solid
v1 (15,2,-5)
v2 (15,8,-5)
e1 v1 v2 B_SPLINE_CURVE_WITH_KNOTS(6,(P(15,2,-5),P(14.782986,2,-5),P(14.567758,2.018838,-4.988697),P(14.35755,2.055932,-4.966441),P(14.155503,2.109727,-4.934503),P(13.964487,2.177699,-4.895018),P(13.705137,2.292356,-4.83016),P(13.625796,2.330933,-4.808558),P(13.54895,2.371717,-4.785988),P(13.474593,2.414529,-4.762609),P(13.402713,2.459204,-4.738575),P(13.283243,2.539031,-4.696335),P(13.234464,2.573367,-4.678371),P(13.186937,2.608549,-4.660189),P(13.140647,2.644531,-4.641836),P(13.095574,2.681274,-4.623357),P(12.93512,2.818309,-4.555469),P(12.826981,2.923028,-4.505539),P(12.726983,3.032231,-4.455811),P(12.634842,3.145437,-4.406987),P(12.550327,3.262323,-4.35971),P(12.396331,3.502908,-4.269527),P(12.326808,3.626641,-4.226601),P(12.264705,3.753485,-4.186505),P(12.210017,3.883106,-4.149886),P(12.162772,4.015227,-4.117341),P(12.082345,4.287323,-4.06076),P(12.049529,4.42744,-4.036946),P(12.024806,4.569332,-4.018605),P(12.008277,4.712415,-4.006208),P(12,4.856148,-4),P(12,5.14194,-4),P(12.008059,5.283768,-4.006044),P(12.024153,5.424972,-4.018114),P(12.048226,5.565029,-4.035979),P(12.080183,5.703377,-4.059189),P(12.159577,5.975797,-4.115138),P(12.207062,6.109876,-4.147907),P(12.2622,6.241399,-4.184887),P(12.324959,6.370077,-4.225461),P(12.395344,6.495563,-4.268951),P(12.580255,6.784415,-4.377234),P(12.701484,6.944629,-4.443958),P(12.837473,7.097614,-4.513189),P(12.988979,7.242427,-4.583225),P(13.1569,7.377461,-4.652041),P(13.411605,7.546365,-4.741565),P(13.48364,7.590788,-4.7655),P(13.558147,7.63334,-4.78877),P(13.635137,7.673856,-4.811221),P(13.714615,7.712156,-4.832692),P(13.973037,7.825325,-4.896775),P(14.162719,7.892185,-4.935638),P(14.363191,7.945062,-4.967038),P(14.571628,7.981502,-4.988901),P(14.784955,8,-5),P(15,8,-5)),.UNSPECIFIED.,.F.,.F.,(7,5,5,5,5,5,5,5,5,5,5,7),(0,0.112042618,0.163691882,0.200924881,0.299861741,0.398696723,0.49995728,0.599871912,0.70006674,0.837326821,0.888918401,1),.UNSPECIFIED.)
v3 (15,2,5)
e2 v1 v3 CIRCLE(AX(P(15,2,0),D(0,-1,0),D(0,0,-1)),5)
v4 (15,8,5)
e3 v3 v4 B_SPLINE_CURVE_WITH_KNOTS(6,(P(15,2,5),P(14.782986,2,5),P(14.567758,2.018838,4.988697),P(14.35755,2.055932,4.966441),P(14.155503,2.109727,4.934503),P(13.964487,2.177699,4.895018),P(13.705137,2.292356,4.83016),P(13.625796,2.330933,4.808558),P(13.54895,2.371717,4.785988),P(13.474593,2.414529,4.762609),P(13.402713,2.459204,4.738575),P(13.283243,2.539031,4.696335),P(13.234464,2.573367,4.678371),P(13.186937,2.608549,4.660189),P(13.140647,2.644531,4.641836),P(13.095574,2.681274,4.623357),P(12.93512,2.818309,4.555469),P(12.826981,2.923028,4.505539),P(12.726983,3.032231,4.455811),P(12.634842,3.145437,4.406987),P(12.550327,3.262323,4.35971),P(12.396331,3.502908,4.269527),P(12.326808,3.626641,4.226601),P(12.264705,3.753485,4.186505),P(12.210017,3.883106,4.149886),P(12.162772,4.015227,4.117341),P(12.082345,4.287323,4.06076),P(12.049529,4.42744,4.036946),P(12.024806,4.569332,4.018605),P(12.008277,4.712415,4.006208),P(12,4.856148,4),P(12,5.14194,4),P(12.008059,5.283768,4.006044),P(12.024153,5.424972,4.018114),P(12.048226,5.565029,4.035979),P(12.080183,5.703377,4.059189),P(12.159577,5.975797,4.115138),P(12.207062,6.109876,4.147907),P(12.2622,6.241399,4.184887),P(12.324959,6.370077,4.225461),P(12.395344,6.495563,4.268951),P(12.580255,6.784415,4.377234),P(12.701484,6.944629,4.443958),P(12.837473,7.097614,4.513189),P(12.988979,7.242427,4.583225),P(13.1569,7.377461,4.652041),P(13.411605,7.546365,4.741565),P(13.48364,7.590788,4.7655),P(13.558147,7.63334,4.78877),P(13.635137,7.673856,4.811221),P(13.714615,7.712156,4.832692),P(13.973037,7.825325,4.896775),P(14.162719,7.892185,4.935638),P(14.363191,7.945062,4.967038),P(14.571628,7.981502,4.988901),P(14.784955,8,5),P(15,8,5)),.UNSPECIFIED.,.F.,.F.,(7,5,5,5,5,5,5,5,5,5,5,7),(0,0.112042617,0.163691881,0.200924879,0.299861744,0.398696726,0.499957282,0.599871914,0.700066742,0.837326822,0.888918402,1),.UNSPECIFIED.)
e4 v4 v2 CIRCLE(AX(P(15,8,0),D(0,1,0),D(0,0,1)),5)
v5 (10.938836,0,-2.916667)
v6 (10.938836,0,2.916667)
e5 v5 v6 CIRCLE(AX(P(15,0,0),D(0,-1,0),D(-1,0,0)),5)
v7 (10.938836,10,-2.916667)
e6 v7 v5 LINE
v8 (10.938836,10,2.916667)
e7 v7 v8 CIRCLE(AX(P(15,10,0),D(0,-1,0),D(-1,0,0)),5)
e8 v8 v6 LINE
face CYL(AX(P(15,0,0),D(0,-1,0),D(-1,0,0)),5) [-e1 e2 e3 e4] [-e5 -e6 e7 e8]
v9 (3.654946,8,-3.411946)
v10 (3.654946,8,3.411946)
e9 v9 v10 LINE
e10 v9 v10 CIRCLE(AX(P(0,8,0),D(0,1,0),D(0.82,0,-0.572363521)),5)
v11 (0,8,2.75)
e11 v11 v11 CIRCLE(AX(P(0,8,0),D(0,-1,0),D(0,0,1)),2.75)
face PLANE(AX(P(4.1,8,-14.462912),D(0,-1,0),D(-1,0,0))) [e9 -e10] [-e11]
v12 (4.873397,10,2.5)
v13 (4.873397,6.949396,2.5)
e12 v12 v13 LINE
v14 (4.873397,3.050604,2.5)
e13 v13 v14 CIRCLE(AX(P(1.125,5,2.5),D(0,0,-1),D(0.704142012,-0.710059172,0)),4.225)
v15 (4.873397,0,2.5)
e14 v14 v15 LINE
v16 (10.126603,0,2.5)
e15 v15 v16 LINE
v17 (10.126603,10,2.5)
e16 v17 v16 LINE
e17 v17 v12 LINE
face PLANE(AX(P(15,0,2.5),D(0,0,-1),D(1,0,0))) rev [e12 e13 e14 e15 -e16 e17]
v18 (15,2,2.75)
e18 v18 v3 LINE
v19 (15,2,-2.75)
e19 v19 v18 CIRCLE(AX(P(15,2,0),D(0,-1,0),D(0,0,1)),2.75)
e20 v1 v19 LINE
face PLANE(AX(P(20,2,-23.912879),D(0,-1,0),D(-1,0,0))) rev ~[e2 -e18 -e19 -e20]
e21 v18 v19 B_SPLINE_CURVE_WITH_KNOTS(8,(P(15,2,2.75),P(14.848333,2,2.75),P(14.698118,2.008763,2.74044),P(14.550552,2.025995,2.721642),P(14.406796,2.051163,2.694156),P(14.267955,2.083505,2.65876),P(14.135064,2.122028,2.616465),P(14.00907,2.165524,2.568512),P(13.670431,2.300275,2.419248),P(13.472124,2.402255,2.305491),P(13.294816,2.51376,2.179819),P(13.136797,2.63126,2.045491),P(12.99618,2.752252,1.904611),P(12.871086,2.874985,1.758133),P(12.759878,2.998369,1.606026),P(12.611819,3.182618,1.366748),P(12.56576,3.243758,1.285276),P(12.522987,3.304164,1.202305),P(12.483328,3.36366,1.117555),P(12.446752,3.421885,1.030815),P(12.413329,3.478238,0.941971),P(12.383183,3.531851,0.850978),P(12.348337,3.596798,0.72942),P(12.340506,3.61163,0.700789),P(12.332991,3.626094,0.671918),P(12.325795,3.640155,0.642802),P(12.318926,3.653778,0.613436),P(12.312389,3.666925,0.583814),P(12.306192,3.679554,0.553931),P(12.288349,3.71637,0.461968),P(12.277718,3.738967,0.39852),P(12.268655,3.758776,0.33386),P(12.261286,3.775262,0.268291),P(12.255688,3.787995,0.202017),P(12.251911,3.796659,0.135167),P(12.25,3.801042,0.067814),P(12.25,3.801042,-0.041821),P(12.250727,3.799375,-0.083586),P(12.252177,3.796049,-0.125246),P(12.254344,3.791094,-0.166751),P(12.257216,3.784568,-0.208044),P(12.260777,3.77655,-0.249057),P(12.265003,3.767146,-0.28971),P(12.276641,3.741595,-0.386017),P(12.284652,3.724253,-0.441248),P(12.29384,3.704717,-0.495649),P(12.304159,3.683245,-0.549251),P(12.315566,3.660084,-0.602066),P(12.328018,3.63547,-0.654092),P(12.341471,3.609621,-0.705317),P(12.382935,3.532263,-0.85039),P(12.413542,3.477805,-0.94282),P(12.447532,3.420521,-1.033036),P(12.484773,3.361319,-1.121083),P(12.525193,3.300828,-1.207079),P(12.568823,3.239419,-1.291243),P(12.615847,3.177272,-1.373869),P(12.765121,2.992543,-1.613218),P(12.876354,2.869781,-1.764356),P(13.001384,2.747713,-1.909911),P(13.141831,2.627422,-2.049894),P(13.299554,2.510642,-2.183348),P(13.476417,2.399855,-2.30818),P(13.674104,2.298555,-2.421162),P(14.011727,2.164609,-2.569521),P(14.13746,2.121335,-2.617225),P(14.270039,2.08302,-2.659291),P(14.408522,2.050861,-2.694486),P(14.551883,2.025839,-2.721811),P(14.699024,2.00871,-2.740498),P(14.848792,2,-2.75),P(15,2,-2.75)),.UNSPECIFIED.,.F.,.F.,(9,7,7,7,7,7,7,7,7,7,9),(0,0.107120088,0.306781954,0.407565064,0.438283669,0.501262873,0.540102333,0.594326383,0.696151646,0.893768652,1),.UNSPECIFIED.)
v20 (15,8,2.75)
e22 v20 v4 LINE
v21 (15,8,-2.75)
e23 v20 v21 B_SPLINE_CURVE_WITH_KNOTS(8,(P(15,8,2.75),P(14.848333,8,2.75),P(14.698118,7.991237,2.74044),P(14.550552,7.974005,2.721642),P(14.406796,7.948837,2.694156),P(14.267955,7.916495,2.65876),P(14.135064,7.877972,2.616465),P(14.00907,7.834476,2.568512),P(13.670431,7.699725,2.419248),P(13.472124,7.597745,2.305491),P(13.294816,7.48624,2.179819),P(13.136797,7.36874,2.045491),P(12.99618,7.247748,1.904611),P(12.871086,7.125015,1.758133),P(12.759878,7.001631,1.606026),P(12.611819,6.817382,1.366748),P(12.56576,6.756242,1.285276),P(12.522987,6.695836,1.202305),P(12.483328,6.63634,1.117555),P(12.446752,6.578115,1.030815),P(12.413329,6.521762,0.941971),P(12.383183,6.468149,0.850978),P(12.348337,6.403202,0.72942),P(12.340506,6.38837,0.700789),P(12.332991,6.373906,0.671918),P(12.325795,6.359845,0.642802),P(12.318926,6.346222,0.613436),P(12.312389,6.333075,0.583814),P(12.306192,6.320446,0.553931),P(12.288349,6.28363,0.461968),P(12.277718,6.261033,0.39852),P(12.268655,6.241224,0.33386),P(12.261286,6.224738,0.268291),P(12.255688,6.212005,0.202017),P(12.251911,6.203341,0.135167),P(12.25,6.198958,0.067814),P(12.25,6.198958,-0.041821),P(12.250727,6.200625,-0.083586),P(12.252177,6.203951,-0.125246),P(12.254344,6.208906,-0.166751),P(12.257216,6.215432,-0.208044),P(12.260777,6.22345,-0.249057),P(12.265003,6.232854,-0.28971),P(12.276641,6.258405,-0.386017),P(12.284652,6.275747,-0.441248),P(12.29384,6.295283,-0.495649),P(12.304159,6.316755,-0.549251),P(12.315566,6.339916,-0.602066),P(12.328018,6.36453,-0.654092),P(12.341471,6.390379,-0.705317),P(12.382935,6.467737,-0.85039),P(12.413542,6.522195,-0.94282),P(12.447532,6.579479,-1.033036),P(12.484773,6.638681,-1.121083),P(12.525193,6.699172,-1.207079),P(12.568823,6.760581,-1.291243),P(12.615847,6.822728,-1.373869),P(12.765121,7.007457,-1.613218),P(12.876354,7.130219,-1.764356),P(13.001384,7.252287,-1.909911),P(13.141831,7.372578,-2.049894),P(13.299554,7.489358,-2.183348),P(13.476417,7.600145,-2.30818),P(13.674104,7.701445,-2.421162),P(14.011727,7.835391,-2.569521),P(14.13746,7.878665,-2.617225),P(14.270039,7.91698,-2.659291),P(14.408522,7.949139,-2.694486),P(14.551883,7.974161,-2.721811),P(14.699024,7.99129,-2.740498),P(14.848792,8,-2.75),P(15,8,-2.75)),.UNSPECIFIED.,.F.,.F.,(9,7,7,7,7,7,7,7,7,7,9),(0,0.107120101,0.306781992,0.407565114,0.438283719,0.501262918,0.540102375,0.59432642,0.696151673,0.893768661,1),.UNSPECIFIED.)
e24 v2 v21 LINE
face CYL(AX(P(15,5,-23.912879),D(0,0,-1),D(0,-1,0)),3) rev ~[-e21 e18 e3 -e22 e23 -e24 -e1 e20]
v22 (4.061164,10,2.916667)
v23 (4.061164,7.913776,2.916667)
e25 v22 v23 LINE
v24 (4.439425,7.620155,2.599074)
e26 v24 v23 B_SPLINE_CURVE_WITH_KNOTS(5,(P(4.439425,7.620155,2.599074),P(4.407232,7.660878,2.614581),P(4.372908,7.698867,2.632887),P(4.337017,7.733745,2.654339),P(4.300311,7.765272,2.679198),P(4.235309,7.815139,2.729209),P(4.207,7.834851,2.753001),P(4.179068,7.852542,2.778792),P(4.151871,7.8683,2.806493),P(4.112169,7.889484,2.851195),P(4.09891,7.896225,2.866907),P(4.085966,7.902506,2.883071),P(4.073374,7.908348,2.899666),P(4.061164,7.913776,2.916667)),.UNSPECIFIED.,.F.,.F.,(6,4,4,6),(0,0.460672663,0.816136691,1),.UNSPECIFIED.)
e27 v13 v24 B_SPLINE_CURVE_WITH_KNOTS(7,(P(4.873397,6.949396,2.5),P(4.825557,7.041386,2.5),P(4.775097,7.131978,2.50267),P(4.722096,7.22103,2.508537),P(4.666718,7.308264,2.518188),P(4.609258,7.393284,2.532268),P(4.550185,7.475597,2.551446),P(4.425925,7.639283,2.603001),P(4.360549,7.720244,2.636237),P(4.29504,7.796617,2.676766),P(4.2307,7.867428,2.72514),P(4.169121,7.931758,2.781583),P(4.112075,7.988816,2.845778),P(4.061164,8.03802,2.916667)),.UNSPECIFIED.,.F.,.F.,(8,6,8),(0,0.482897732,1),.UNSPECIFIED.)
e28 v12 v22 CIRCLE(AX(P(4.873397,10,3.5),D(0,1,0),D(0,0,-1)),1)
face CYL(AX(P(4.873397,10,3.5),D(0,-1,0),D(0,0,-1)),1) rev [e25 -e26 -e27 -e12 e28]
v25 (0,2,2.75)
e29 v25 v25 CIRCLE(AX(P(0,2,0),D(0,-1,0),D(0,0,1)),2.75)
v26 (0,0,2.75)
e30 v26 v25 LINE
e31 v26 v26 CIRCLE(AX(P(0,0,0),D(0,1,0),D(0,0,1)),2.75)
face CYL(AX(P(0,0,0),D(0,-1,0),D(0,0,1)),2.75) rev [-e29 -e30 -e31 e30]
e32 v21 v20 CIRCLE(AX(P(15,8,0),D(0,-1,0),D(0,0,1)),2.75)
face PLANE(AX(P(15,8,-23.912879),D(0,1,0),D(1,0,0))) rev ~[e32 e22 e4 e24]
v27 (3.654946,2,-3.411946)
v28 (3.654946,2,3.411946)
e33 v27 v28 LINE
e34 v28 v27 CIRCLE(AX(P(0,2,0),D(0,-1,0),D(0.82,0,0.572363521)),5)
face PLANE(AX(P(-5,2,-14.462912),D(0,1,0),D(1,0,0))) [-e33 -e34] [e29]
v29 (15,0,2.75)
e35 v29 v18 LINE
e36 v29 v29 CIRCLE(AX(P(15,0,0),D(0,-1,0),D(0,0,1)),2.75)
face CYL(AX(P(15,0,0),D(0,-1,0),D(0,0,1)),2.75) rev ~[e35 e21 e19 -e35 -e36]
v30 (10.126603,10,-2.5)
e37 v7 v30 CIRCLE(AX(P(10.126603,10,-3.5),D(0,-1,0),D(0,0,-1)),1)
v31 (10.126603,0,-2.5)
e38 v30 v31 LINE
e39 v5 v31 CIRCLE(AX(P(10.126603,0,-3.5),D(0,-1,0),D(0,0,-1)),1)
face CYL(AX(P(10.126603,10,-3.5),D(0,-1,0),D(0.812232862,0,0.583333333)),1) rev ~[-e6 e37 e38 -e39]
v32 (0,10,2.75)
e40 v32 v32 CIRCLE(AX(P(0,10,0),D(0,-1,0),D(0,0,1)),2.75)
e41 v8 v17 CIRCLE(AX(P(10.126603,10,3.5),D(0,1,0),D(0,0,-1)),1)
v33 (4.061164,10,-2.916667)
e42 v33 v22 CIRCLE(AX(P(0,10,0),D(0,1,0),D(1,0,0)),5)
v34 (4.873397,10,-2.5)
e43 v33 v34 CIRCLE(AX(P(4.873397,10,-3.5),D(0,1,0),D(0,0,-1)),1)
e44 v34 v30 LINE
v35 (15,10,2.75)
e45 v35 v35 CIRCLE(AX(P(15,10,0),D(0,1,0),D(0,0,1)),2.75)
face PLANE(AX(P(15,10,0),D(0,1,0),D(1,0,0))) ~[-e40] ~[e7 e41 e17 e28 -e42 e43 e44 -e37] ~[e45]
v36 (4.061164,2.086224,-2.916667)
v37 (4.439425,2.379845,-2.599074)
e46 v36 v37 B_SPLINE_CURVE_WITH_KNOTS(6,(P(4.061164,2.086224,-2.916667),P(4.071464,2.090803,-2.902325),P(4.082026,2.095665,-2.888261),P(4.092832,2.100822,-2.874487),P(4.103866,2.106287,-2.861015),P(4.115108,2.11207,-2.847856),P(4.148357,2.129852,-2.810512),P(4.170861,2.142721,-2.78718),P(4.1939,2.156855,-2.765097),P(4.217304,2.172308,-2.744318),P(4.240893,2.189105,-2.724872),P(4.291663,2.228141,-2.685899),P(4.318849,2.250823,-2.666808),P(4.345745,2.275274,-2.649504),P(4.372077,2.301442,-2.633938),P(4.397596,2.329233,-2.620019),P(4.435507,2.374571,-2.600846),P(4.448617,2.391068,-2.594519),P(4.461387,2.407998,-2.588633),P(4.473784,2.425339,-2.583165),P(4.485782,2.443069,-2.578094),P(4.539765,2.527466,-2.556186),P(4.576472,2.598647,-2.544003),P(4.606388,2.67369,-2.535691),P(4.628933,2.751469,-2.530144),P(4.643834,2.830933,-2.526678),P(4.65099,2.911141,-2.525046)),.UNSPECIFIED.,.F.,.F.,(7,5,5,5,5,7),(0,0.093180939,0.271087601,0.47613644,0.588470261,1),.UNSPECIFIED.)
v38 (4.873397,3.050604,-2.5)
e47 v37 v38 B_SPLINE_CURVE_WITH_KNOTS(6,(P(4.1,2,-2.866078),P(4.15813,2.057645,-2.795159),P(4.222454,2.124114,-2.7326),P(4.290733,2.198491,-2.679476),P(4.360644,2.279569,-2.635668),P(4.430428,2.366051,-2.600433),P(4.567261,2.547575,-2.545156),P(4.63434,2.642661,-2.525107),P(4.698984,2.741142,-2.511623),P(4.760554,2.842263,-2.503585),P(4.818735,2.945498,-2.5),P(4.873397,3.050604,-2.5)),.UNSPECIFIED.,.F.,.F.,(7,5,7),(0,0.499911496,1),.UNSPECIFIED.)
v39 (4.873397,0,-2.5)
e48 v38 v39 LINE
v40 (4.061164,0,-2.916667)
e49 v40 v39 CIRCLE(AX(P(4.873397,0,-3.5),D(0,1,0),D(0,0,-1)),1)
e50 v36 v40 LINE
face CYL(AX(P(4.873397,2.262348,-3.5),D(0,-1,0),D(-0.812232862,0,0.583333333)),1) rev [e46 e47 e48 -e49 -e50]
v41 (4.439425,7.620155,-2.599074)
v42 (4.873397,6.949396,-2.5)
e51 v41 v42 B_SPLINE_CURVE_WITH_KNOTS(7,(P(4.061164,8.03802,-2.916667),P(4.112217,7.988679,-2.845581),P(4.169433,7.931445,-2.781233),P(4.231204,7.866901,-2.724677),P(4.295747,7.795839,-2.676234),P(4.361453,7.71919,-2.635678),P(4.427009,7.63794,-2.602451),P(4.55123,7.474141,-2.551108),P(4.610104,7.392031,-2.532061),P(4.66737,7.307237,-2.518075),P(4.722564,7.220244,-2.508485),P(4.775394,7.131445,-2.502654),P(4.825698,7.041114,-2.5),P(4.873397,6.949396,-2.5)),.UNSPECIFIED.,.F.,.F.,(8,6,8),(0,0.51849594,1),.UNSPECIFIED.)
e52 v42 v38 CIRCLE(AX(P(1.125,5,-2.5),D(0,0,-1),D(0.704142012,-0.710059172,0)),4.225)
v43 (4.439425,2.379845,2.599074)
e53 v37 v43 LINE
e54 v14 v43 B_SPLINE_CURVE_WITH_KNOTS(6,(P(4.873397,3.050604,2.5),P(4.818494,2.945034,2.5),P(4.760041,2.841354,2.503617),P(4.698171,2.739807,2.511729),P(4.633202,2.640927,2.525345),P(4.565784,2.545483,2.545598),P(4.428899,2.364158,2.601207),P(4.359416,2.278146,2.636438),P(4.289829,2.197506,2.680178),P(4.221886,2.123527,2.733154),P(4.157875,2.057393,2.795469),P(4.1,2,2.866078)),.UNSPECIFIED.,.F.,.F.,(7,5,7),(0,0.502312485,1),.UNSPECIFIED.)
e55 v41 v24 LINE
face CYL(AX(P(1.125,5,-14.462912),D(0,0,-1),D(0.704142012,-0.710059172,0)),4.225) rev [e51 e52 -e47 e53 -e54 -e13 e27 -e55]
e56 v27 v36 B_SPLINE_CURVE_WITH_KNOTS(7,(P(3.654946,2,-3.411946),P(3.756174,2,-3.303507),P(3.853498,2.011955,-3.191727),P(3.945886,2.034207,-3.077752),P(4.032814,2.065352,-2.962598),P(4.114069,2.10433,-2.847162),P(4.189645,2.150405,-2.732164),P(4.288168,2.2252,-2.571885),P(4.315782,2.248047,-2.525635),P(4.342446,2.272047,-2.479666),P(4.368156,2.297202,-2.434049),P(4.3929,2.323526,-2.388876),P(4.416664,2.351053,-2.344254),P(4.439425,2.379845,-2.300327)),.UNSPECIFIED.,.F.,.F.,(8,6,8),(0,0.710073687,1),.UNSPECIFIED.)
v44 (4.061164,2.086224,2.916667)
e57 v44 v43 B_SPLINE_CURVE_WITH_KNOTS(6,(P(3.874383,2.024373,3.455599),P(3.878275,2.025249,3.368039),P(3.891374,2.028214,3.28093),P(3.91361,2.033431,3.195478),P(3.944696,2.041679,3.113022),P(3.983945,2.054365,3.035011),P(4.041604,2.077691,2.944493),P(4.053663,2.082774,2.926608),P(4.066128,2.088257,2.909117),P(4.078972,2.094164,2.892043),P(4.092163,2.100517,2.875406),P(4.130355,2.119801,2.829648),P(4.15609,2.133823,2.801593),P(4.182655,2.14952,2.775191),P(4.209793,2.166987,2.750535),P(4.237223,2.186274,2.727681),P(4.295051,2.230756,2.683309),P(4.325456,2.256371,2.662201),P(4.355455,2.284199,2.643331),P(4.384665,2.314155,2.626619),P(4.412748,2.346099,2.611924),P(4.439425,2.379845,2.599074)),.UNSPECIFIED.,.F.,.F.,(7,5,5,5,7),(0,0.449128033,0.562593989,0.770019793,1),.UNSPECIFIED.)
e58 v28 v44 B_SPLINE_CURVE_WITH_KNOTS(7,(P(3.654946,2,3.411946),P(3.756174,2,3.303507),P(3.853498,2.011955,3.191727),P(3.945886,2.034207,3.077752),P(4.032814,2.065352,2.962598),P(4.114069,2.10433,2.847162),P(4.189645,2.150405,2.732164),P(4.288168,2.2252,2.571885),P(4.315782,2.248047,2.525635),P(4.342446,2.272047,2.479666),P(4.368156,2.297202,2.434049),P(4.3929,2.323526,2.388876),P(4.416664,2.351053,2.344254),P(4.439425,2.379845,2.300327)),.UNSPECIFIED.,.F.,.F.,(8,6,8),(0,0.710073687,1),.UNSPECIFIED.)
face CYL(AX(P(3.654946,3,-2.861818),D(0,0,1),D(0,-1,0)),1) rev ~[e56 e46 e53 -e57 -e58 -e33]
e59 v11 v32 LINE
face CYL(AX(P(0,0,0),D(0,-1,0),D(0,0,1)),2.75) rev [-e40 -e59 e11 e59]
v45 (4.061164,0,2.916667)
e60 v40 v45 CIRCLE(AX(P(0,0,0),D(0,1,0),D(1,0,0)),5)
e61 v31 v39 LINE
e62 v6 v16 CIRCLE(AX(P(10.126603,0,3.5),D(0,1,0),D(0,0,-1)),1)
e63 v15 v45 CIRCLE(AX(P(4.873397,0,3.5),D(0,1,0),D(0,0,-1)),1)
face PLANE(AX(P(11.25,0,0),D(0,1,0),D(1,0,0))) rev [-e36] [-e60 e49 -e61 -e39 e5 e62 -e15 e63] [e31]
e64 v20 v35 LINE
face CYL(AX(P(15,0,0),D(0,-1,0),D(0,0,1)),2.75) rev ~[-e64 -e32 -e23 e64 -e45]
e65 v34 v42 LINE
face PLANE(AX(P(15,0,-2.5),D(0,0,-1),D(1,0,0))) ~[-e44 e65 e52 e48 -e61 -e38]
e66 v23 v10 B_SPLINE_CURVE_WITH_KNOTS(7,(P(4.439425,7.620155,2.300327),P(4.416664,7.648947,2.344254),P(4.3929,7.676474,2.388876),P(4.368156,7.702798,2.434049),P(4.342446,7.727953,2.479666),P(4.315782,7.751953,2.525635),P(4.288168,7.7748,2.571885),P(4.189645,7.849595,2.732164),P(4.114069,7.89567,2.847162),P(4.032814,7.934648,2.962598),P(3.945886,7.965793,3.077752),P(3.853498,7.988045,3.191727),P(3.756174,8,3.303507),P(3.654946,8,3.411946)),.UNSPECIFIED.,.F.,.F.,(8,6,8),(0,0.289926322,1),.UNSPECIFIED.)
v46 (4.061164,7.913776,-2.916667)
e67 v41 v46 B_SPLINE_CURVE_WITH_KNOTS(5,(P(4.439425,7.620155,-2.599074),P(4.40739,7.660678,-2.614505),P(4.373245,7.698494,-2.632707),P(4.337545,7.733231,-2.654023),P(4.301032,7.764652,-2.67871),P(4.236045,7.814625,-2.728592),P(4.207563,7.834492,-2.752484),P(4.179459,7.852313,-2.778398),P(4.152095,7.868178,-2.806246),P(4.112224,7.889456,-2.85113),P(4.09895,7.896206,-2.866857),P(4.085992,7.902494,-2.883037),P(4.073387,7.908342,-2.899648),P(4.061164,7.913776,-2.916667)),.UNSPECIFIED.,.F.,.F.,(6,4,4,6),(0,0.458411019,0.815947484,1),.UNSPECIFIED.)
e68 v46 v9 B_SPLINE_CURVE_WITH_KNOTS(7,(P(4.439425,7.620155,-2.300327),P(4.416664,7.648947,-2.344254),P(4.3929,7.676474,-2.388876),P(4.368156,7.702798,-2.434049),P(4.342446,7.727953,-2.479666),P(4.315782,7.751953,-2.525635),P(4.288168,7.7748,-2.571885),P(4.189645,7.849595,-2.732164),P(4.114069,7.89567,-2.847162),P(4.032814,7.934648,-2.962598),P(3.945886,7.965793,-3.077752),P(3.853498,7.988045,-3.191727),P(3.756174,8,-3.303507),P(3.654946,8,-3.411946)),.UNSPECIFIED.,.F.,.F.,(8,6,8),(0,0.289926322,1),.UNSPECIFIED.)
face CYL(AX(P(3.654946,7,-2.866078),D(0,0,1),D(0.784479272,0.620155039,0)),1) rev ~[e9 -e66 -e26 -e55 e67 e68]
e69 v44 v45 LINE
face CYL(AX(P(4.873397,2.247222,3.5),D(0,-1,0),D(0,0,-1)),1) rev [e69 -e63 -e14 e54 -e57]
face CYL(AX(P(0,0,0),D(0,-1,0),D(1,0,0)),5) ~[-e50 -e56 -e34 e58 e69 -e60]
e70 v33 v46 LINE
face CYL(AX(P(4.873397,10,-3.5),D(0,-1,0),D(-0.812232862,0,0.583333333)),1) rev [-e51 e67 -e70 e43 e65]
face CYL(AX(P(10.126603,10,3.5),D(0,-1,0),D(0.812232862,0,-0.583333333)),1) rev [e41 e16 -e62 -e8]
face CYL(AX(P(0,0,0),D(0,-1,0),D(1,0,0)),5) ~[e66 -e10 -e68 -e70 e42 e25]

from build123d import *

# Parameters (mm, degrees)
SKETCH1_W               = 7.5
SKETCH1_H               = 5
BOSS_EXTRUDE1_DEPTH     = 10
SKETCH2_R               = 5
BOSS_EXTRUDE2_DEPTH     = 10
CUT_EXTRUDE1_REACH      = 15.463
SKETCH3_R               = 2.75
CUT_EXTRUDE2_DEPTH      = 14.462912018
CUT_EXTRUDE2_DEPTH_BACK = 14.462912018
FILLET1_R               = 1
FILLET3_R               = 1
FILLET4_R               = 1
FILLET1_OF_MIRROR1_R    = 1
CUT_EXTRUDE3_DEPTH      = 23.91287854
CUT_EXTRUDE3_DEPTH_BACK = 23.91287854


with BuildPart() as part:
    # Sketch1 → Boss-Extrude1 (new body)
    with BuildSketch(Plane(origin=(0, 0, 0), x_dir=(1, 0, 0), z_dir=(0, 1, 0))):
        with Locations((3.75, 0)):
            Rectangle(SKETCH1_W, SKETCH1_H)
    boss_extrude1 = extrude(amount=BOSS_EXTRUDE1_DEPTH)

    # Sketch2 → Boss-Extrude2 (add)
    with BuildSketch(Plane(origin=(0, 0, 0), x_dir=(1, 0, 0), z_dir=(0, 1, 0))):
        Circle(SKETCH2_R)
    boss_extrude2 = extrude(amount=BOSS_EXTRUDE2_DEPTH)

    # Sketch3 → Cut-Extrude1 (cut, up to next)
    with BuildSketch(Plane(origin=(0, 0, 0), x_dir=(1, 0, 0), z_dir=(0, 1, 0)), mode=Mode.PRIVATE) as cut_extrude1_sk1:
        with Locations(Location((0, 0, 0), (0, 0, 270))):
            Circle(SKETCH3_R)
    cut_extrude1_tool1 = extrude(cut_extrude1_sk1.sketch, amount=CUT_EXTRUDE1_REACH, mode=Mode.PRIVATE) & part.part
    cut_extrude1 = cut_extrude1_tool1.solids().sort_by_distance((0, 0, 0))[0]
    add(cut_extrude1, mode=Mode.SUBTRACT)

    # Sketch4 → Cut-Extrude2 (cut, two sides: drawn at the far end of the back side and taken through both)
    with BuildSketch(Plane.XY.offset(-CUT_EXTRUDE2_DEPTH_BACK)):
        with BuildLine():
            Line((0, 8), (-5, 8))
            Line((-5, 8), (-5, 2))
            Line((-5, 2), (0, 2))
            Line((0, 2), (4.1, 2))
            ThreePointArc((4.1, 2), (5.35, 5), (4.1, 8))
            Line((4.1, 8), (0, 8))
        make_face()
    extrude(amount=CUT_EXTRUDE2_DEPTH + CUT_EXTRUDE2_DEPTH_BACK, mode=Mode.SUBTRACT)

    # Fillet1
    fillet1_edges = [part.edges().sort_by_distance(p)[0] for p in [
        (4.330127019, 8.876388916, -2.5),
        (4.330127019, 1.123611084, 2.5),
    ]]
    fillet(fillet1_edges, radius=FILLET1_R)

    # Fillet3
    fillet3_edges = [part.edges().sort_by_distance(p)[0] for p in [
        (4.1, 2, 0.002130312),
        (4.1, 8, -0.002130312),
    ]]
    fillet(fillet3_edges, radius=FILLET3_R)

    # Fillet4
    fillet4_edges = [part.edges().sort_by_distance(p)[0] for p in [
        (4.330127019, 1.131174119, -2.5),
        (4.330127019, 8.868825881, 2.5),
    ]]
    fillet(fillet4_edges, radius=FILLET4_R)

    # Mirror1: Boss-Extrude1, Boss-Extrude2, Cut-Extrude1 across plane
    add(boss_extrude1.mirror(Plane(origin=(7.5, 10, -2.5), x_dir=(0, 0, 1), z_dir=(-1, 0, 0))))
    add(boss_extrude2.mirror(Plane(origin=(7.5, 10, -2.5), x_dir=(0, 0, 1), z_dir=(-1, 0, 0))))
    add(cut_extrude1.mirror(Plane(origin=(7.5, 10, -2.5), x_dir=(0, 0, 1), z_dir=(-1, 0, 0))), mode=Mode.SUBTRACT)

    # Fillet1 of Mirror1
    fillet1_of_mirror1_edges = [part.edges().sort_by_distance(p)[0] for p in [
        (10.669872981, 8.876388916, -2.5),
        (10.669872981, 1.123611084, 2.5),
    ]]
    fillet(fillet1_of_mirror1_edges, radius=FILLET1_OF_MIRROR1_R)

    # Sketch6 → Cut-Extrude3 (cut, two sides: drawn at the far end of the back side and taken through both)
    with BuildSketch(Plane.XY.offset(-CUT_EXTRUDE3_DEPTH_BACK)):
        with BuildLine():
            Line((15, 8), (20, 8))
            Line((20, 8), (20, 2))
            Line((20, 2), (15, 2))
            ThreePointArc((15, 2), (12, 5), (15, 8))
        make_face()
    extrude(amount=CUT_EXTRUDE3_DEPTH + CUT_EXTRUDE3_DEPTH_BACK, mode=Mode.SUBTRACT)


solid = part.part
